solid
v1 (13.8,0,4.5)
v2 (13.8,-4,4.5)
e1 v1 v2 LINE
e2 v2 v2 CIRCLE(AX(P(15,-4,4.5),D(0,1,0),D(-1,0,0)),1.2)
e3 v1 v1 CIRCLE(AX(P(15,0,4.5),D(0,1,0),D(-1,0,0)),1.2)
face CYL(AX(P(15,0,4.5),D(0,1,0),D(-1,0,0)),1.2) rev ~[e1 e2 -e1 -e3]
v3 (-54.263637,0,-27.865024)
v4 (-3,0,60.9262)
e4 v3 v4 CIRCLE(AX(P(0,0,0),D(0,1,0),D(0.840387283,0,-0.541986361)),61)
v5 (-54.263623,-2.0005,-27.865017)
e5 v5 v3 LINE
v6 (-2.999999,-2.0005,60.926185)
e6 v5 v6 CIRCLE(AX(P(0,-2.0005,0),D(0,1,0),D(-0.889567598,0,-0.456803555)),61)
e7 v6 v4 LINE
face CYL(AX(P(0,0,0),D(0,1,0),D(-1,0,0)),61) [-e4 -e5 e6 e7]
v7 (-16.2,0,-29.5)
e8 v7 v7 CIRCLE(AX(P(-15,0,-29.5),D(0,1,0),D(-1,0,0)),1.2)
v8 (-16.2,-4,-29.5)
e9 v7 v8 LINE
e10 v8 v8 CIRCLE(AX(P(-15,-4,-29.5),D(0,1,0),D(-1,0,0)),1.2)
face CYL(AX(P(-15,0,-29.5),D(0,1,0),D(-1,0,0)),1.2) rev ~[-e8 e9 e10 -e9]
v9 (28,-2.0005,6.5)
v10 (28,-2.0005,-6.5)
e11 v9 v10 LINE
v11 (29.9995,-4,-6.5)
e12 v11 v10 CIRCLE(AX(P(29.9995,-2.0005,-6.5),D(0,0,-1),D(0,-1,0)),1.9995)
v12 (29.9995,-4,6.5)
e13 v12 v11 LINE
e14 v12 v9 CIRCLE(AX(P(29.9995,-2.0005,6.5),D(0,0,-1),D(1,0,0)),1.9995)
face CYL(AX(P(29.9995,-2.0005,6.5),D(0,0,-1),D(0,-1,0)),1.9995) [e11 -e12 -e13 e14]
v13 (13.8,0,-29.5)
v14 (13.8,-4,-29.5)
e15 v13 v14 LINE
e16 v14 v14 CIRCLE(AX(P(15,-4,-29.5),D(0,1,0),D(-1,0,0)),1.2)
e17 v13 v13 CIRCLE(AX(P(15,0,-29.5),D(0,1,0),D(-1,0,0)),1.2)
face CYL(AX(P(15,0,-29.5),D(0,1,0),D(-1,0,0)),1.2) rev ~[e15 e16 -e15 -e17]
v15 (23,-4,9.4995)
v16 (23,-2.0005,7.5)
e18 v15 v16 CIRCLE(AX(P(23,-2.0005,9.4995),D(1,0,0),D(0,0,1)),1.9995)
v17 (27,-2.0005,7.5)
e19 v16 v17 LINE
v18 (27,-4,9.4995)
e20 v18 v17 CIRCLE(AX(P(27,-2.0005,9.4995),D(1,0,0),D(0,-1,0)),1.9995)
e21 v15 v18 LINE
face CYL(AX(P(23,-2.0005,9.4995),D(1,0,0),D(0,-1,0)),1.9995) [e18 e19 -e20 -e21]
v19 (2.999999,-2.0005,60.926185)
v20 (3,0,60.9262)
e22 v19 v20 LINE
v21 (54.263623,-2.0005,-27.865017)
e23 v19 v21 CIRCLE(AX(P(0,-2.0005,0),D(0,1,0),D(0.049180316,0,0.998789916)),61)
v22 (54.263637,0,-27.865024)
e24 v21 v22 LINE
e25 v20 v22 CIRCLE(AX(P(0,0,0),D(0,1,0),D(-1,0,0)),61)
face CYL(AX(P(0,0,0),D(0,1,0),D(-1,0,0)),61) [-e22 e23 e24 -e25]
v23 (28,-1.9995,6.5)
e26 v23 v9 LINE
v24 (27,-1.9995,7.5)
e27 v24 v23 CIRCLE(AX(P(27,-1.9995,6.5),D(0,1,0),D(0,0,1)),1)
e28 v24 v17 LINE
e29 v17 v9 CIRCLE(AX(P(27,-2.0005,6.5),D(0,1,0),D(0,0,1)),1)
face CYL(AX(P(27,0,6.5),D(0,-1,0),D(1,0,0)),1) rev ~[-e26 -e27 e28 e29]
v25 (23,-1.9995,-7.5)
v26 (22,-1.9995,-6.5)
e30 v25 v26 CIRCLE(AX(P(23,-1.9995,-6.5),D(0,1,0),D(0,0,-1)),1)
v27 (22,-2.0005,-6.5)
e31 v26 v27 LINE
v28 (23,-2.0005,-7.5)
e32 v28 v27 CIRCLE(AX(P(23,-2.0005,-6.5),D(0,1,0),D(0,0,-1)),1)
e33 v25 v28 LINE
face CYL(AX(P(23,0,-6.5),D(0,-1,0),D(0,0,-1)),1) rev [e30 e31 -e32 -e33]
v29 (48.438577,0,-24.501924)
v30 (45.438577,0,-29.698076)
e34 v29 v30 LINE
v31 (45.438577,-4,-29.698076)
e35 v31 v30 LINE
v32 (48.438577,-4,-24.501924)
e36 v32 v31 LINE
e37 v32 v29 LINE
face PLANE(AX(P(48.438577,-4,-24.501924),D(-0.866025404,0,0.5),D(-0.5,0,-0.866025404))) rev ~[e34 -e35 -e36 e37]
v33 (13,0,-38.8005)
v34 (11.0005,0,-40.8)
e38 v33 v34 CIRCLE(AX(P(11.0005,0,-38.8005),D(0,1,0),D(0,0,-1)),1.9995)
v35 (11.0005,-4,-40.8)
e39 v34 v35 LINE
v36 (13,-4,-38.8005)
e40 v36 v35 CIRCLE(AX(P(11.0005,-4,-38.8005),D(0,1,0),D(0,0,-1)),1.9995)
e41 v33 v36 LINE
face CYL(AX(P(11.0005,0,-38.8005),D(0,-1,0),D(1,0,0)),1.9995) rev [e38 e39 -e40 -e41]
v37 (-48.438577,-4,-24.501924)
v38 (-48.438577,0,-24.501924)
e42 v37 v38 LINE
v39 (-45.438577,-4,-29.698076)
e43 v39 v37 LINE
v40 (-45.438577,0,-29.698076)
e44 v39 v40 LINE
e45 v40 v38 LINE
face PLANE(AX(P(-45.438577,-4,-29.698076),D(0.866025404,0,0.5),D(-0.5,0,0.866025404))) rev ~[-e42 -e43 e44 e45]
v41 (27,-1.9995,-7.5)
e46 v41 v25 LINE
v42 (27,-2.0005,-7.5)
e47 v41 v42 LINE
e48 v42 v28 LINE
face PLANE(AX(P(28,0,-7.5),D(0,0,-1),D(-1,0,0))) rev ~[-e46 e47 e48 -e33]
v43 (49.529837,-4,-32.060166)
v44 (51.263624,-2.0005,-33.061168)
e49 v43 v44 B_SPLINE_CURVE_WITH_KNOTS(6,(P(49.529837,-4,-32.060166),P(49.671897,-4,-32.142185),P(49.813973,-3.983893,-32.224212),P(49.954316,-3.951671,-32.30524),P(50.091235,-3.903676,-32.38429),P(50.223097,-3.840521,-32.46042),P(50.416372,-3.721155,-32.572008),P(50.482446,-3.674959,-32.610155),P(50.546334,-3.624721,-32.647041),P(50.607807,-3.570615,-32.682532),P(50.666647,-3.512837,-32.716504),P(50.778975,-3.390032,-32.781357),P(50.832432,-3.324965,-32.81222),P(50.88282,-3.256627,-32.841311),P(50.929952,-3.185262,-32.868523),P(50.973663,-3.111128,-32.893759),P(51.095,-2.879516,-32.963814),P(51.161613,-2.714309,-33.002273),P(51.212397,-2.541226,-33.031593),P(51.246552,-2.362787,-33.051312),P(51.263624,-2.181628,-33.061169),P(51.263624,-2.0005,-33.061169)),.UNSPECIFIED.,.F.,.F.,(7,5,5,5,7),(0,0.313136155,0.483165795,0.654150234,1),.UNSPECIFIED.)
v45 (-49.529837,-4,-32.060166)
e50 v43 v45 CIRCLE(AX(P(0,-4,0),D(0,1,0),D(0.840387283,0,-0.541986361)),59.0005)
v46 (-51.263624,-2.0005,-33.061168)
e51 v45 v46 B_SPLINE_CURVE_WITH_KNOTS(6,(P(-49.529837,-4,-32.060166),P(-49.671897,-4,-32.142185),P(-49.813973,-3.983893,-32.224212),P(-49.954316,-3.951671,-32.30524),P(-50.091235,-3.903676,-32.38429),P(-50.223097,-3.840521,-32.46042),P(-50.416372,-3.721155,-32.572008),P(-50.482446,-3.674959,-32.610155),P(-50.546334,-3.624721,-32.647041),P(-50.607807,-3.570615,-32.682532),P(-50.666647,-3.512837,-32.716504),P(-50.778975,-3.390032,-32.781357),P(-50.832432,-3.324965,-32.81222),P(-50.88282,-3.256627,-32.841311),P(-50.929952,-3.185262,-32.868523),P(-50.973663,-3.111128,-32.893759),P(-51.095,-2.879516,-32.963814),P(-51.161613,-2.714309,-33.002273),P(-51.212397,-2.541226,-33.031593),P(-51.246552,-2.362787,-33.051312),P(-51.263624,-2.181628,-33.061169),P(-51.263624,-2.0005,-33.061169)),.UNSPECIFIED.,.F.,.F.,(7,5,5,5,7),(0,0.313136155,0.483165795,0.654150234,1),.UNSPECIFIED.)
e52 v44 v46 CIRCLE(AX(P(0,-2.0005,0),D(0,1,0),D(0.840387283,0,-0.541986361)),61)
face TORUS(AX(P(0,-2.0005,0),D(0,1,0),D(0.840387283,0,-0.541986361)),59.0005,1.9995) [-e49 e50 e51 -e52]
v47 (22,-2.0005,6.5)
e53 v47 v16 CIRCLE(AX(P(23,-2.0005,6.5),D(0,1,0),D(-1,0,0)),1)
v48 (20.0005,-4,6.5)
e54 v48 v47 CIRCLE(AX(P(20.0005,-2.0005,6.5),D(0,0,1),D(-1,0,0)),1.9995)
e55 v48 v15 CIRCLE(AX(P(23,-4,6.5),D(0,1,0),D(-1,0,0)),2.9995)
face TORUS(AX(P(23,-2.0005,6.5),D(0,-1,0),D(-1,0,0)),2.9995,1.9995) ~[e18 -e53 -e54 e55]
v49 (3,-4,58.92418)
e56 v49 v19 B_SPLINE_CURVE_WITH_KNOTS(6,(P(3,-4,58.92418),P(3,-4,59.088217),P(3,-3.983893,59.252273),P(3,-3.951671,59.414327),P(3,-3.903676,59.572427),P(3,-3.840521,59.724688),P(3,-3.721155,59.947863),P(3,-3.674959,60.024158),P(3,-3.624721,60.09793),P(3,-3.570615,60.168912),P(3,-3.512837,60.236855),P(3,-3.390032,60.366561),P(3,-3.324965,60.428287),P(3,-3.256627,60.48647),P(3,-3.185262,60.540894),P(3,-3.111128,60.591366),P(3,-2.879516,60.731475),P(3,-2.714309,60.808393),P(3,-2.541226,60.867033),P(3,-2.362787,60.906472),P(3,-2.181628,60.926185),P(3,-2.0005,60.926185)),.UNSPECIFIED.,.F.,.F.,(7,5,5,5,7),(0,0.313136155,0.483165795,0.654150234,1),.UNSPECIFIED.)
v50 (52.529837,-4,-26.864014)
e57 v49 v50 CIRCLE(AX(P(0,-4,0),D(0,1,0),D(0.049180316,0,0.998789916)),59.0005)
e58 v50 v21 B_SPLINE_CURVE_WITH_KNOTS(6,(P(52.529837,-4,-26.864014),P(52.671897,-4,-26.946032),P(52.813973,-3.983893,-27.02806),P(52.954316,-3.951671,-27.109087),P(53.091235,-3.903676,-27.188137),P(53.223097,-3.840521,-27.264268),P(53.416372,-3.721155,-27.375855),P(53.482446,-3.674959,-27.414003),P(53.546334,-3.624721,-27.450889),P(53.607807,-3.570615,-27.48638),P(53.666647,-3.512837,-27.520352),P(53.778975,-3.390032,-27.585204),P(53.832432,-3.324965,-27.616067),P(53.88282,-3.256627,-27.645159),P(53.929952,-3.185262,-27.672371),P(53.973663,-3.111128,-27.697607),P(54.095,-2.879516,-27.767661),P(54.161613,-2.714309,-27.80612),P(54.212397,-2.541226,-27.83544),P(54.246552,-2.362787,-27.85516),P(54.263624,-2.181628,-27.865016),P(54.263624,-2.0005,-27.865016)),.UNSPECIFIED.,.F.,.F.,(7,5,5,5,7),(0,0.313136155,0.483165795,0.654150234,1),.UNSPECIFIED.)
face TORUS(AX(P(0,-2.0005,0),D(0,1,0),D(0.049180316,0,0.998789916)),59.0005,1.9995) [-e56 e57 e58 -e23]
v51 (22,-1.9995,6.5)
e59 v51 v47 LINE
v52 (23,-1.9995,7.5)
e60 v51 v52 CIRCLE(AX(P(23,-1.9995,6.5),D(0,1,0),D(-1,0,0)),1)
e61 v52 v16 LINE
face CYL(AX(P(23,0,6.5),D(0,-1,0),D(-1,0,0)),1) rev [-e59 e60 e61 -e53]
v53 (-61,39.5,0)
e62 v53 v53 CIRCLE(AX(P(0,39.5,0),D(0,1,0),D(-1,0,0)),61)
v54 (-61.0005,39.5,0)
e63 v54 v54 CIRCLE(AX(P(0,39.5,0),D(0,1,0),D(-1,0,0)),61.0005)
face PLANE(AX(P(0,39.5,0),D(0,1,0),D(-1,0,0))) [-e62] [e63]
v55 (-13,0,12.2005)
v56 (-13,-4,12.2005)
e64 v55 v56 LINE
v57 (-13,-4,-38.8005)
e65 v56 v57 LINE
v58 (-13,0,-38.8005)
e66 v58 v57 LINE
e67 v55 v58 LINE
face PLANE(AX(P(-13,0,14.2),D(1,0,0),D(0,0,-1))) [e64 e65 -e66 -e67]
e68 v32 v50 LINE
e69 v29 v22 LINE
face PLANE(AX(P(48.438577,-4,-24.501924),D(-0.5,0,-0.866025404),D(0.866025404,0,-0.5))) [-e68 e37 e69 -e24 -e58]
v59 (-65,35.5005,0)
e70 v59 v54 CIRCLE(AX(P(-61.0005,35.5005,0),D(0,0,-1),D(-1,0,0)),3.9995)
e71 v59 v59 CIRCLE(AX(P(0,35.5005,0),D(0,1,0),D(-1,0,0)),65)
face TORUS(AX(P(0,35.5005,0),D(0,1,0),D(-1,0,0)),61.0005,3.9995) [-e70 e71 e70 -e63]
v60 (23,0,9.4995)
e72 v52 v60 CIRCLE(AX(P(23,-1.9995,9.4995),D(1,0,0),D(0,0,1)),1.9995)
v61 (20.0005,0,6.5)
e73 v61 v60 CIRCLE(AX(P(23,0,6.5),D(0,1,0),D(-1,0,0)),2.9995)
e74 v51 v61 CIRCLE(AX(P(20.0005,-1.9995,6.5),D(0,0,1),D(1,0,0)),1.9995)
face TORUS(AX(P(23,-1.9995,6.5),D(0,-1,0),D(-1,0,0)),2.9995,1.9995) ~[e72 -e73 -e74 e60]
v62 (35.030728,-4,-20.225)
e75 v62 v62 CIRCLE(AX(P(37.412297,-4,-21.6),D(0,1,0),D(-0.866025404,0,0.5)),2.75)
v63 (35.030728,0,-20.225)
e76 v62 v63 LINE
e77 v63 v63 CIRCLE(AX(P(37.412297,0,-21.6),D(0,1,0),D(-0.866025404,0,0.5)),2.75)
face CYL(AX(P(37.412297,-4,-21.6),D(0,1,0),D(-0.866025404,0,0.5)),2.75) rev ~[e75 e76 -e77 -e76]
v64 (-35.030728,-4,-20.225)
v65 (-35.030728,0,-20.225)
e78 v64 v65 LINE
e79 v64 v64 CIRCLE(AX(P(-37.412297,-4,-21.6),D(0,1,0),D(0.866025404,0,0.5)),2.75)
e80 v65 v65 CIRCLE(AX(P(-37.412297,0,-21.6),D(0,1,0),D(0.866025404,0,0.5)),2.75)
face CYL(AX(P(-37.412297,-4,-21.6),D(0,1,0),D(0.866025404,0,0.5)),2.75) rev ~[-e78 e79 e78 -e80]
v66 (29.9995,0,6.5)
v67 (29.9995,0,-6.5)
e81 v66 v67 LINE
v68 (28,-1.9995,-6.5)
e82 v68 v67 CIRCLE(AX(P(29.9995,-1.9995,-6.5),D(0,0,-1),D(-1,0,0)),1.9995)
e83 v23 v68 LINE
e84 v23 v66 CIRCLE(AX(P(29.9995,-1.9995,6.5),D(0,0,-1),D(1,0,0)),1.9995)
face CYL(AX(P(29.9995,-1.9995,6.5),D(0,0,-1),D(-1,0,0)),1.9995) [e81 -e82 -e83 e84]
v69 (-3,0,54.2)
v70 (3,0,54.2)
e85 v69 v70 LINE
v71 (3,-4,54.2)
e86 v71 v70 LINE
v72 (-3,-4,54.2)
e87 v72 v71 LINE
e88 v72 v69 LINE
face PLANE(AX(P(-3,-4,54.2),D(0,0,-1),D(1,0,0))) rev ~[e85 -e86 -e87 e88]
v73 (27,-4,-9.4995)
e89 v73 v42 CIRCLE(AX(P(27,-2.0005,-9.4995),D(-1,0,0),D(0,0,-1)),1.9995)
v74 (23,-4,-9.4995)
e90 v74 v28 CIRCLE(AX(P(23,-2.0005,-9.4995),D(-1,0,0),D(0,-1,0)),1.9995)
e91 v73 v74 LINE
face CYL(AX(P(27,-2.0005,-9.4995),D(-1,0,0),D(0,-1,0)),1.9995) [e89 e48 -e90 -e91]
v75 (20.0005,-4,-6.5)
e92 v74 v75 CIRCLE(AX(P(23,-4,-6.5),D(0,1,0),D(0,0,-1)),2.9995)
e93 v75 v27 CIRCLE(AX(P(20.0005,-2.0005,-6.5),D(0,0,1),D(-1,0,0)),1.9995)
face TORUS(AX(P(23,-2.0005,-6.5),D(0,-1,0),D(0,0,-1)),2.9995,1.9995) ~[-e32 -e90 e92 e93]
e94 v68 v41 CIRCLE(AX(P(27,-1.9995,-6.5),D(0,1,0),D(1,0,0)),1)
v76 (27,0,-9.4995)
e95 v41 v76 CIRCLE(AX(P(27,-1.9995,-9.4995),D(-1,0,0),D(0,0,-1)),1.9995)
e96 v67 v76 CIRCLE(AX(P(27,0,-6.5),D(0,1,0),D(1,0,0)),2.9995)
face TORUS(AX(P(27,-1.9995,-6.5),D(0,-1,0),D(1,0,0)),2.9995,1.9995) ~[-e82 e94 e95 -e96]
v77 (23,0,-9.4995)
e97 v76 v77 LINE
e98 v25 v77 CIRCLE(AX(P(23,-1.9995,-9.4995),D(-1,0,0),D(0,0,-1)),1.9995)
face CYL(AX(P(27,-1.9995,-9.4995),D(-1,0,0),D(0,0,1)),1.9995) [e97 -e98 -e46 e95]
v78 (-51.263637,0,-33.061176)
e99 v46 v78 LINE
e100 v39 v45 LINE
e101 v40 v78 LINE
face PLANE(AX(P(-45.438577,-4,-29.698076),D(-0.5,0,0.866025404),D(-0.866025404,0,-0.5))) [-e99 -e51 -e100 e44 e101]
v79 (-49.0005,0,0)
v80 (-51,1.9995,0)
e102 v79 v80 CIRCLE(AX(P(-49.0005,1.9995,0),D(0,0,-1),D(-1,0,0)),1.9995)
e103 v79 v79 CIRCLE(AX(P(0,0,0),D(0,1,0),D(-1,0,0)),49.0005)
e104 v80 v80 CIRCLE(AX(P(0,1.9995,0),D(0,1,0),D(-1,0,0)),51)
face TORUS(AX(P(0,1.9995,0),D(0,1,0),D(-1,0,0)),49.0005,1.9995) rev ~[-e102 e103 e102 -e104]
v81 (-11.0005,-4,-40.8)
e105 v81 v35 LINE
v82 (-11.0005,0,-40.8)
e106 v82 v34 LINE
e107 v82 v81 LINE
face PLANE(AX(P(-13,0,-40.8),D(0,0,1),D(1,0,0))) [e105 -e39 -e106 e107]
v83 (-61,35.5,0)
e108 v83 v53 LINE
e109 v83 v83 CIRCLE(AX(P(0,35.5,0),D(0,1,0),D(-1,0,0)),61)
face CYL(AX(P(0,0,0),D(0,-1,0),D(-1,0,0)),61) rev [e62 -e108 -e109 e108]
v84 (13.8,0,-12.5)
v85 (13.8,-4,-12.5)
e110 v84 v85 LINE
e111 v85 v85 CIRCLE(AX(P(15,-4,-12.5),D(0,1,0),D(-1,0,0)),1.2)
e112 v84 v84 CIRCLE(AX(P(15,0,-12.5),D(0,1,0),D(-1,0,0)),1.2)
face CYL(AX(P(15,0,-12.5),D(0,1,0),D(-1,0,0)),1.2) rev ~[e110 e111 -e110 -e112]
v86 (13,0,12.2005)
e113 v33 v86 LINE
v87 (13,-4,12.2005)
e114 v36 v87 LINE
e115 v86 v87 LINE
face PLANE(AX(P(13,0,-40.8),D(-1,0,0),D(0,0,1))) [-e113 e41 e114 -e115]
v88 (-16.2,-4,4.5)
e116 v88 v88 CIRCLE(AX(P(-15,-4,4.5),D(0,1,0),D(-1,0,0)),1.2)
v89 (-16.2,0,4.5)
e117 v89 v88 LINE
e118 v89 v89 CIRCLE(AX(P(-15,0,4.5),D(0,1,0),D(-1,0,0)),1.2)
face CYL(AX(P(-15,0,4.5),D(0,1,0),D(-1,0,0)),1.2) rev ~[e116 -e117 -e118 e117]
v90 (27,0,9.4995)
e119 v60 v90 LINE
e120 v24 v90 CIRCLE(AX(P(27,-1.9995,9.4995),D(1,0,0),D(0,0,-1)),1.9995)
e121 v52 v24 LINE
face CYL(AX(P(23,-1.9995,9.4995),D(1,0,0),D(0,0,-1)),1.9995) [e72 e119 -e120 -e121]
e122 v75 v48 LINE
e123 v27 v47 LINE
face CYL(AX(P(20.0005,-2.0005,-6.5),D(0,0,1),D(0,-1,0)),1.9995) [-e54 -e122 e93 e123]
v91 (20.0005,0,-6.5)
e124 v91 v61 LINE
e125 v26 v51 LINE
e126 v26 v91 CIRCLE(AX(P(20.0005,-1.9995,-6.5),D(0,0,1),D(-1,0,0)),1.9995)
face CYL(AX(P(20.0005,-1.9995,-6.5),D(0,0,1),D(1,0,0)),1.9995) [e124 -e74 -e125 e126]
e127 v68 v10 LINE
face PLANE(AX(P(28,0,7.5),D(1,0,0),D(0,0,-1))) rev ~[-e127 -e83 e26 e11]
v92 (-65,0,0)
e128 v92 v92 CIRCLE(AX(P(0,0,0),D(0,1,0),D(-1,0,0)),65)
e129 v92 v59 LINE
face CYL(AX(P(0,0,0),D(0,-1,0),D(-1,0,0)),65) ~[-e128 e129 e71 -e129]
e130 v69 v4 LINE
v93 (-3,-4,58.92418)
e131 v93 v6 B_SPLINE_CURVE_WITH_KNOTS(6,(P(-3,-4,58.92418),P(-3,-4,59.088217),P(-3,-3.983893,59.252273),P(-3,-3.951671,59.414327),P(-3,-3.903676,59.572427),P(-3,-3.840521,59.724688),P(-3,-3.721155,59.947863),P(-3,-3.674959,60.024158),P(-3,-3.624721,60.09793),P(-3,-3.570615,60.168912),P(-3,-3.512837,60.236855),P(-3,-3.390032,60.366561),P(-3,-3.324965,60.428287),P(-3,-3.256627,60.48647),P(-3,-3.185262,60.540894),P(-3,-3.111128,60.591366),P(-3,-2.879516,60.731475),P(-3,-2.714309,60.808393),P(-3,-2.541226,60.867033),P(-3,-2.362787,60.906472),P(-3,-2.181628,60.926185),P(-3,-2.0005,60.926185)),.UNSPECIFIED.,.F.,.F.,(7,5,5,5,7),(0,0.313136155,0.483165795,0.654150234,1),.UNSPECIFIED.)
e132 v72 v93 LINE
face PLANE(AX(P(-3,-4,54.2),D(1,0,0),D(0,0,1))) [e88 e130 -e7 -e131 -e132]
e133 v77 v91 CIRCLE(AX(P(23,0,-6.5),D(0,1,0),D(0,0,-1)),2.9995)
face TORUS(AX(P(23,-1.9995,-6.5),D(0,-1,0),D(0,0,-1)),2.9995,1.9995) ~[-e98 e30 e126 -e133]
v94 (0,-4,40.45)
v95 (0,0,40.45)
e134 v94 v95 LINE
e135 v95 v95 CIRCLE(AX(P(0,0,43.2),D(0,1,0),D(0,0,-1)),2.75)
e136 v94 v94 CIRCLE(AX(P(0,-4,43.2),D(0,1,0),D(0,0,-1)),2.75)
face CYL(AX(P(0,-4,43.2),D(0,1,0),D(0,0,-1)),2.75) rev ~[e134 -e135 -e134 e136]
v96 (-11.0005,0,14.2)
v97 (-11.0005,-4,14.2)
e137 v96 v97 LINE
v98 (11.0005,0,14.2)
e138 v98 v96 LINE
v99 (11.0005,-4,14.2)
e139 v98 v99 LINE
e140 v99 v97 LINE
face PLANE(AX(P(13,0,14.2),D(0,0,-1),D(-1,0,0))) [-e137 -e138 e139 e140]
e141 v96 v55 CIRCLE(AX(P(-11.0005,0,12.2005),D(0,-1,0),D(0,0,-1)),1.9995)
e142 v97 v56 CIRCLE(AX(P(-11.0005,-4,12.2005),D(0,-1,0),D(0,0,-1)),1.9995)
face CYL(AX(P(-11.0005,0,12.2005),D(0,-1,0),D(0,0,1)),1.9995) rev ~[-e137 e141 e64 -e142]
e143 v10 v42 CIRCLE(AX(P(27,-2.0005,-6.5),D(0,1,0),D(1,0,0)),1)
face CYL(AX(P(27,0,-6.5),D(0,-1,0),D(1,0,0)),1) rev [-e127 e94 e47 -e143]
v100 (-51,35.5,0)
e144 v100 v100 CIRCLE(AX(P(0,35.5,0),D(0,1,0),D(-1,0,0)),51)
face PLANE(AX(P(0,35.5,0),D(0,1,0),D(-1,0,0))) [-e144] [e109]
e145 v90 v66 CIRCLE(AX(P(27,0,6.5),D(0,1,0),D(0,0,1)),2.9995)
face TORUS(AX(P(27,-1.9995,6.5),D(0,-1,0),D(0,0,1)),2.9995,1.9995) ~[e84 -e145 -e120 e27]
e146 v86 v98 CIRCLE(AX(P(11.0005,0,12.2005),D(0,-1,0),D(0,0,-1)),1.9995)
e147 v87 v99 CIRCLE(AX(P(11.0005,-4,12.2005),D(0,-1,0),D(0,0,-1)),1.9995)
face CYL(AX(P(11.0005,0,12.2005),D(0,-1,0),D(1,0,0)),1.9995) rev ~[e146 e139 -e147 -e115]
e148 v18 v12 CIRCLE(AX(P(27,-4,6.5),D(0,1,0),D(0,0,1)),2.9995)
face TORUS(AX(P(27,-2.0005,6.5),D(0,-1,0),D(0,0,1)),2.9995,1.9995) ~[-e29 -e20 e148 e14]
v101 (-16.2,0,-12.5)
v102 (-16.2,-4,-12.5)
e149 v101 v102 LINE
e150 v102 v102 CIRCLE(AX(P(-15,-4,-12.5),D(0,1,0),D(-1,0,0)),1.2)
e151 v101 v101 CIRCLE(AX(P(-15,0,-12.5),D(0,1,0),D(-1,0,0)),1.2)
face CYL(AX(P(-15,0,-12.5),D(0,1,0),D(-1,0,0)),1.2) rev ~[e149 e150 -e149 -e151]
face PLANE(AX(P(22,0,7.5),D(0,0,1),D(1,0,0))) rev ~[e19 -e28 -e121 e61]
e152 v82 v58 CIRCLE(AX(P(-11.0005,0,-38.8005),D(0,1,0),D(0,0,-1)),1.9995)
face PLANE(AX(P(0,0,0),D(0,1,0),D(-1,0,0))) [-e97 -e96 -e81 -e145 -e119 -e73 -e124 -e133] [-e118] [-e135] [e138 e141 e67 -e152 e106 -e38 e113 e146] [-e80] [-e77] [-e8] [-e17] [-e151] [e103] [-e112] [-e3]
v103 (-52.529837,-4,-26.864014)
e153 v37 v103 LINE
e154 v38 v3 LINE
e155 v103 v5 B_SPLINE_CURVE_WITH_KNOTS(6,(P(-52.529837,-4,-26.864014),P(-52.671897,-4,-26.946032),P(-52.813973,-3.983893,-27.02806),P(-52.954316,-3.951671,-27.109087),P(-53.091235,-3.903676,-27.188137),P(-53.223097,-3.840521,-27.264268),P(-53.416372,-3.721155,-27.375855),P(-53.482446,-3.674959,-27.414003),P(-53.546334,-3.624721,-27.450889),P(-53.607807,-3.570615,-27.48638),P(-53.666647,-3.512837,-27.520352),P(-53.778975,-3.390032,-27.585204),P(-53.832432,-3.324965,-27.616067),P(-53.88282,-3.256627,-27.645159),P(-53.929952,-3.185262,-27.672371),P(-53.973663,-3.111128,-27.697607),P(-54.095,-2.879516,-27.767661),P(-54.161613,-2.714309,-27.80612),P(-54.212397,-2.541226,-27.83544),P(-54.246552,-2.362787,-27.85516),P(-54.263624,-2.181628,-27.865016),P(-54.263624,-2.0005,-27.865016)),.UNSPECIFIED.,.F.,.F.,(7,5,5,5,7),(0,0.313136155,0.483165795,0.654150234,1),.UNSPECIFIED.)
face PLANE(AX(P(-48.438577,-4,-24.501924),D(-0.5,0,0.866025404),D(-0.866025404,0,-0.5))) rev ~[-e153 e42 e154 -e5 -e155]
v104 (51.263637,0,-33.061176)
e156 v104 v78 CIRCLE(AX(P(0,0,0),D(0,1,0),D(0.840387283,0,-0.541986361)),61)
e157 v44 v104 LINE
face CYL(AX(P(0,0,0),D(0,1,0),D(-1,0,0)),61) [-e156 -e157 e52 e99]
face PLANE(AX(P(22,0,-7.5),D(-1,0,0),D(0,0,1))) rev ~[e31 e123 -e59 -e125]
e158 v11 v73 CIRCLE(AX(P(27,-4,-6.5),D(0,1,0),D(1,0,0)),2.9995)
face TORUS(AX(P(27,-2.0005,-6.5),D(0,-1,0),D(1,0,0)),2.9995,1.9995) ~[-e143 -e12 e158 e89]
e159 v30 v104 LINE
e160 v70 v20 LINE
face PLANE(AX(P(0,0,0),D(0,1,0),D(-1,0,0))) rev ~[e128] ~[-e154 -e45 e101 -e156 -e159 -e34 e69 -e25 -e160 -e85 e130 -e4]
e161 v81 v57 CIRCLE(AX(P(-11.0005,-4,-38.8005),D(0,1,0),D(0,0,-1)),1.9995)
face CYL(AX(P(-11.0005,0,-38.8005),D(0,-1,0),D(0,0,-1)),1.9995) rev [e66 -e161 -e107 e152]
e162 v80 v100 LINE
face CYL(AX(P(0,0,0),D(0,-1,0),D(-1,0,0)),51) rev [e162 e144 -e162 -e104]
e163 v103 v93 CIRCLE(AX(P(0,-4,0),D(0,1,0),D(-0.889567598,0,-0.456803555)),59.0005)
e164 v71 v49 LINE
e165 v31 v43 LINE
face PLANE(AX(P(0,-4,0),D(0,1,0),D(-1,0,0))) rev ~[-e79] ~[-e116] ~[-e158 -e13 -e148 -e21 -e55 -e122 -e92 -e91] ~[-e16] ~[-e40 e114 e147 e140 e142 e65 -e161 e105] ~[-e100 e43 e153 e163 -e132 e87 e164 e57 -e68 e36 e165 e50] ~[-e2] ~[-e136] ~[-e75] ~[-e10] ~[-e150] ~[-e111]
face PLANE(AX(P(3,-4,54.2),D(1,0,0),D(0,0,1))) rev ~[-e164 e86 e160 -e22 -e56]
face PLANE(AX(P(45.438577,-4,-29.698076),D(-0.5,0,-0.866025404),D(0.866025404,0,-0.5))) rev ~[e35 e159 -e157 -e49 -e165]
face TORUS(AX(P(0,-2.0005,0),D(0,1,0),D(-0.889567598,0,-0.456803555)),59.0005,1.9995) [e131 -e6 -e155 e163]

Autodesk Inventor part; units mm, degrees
ref_plane "YZ Plane" through (0, 0, 0) normal (1, 0, 0) x (0, 1, 0)
ref_plane "XZ Plane" through (0, 0, 0) normal (0, 1, 0) x (-1, 0, 0)
ref_plane "XY Plane" through (0, 0, 0) normal (0, 0, 1) x (1, 0, 0)
sketch "Sketch1" plane through (0, 0, 0) normal (0, 1, 0) x (-1, 0, 0)
  arc A0 (-11.6454, 11.6645) -> (-12.2, 10.5) centre (-10.7, 10.5) ccw construction
  arc A1 (-11.6454, 11.6645) -> (-12.6157, 11.0765) centre (-11.3, 10) ccw construction
  line L0 (-12.6157, 11.0765) -> (-17.1157, 5.5765) construction
  arc A2 (-17.1157, 5.5765) -> (-17.5, 4.5) centre (-15.8, 4.5) ccw construction
  line L1 (-17.5, 4.5) -> (-17.5, -31.1) construction
  arc A3 (-17.5, -31.1) -> (-17.1157, -32.1765) centre (-15.8, -31.1) ccw construction
  line L2 (-17.1157, -32.1765) -> (-12.6157, -37.6765) construction
  arc A4 (-12.6157, -37.6765) -> (-11.3, -38.3) centre (-11.3, -36.6) ccw construction
  line L3 (-11.3, -38.3) -> (11.3, -38.3) construction
  arc A5 (11.3, -38.3) -> (12.6157, -37.6765) centre (11.3, -36.6) ccw construction
  line L4 (12.6157, -37.6765) -> (17.1157, -32.1765) construction
  arc A6 (17.1157, -32.1765) -> (17.5, -31.1) centre (15.8, -31.1) ccw construction
  line L5 (17.5, -31.1) -> (17.5, 4.5) construction
  arc A7 (17.5, 4.5) -> (17.1157, 5.5765) centre (15.8, 4.5) ccw construction
  line L6 (17.1157, 5.5765) -> (12.6157, 11.0765) construction
  arc A8 (12.6157, 11.0765) -> (11.6454, 11.6645) centre (11.3, 10) ccw construction
  arc A9 (12.2, 10.5) -> (11.6454, 11.6645) centre (10.7, 10.5) ccw construction
  line L7 (12.2, 10.5) -> (12.2, -31.5) construction
  arc A10 (10.7, -33) -> (12.2, -31.5) centre (10.7, -31.5) ccw construction
  line L8 (-10.7, -33) -> (10.7, -33) construction
  arc A11 (-12.2, -31.5) -> (-10.7, -33) centre (-10.7, -31.5) ccw construction
  line L9 (-12.2, 10.5) -> (-12.2, -31.5) construction
  circle A12 centre (-8.5, -35.8) radius 1.2 construction
  circle A13 centre (8.5, -35.8) radius 1.2 construction
  circle A14 centre (-15, 4.5) radius 1.2
  circle A15 centre (-15, -12.5) radius 1.2
  circle A16 centre (-15, -29.5) radius 1.2
  circle A17 centre (15, -29.5) radius 1.2
  circle A18 centre (15, -12.5) radius 1.2
  circle A19 centre (15, 4.5) radius 1.2
  line L10 (11.3, -38.6) -> (-11.3, -38.6) construction
  arc A20 (-12.8479, -37.8665) -> (-11.3, -38.6) centre (-11.3, -36.6) ccw construction
  line L11 (-12.8479, -37.8665) -> (-17.3479, -32.3665) construction
  arc A21 (-17.8, -31.1) -> (-17.3479, -32.3665) centre (-15.8, -31.1) ccw construction
  line L12 (-17.8, -31.1) -> (-17.8, 4.5) construction
  line L13 (17.3479, -32.3665) -> (12.8479, -37.8665) construction
  arc A22 (11.3, -38.6) -> (12.8479, -37.8665) centre (11.3, -36.6) ccw construction
  line L14 (17.8, 4.5) -> (17.8, -31.1) construction
  arc A23 (17.3479, -32.3665) -> (17.8, -31.1) centre (15.8, -31.1) ccw construction
  arc A24 (17.8, 4.5) -> (17.3479, 5.7665) centre (15.8, 4.5) ccw construction
  line L15 (12.8479, 11.2665) -> (17.3479, 5.7665) construction
  arc A25 (12.8479, 11.2665) -> (11.3, 12) centre (11.3, 10) ccw construction
  spline S0 degree 3 poles (11.3, 11.8748) (11.3318, 11.8609) (11.3649, 11.8451) (11.4851, 11.7818) (11.5689, 11.7267) (11.6454, 11.6645) knots -0.198467 -0.198467 -0.198467 -0.198467 -0.191756 -0.191756 -0.174636 -0.174636 -0.174636 -0.174636 construction
  spline S1 degree 3 poles (11.3, 11.8748) (11.2559, 11.894) (11.211, 11.9111) (11.0105, 11.9765) (10.8493, 12) (10.7, 12) knots -0.063423 -0.063423 -0.063423 -0.063423 -0.049053 -0.049053 0 0 0 0 construction
  arc A26 (-11.3, 12) -> (-12.8479, 11.2665) centre (-11.3, 10) ccw construction
  line L16 (-11.3, 12) -> (-10.7, 12) construction
  line L17 (-17.3479, 5.7665) -> (-12.8479, 11.2665) construction
  spline S2 degree 3 poles (-11.3, 11.8748) (-11.3932, 11.8341) (-11.4972, 11.777) (-11.6151, 11.6887) (-11.6305, 11.6767) (-11.6454, 11.6645) knots 0.037429 0.037429 0.037429 0.037429 0.058499 0.058499 0.061766 0.061766 0.061766 0.061766 construction
  spline S3 degree 3 poles (-10.7, 12) (-10.8493, 12) (-11.0105, 11.9765) (-11.211, 11.9111) (-11.2559, 11.894) (-11.3, 11.8748) knots -0.307639 -0.307639 -0.307639 -0.307639 -0.258586 -0.258586 -0.244216 -0.244216 -0.244216 -0.244216 construction
  line L18 (10.7, 12) -> (11.3, 12) construction
  arc A27 (-17.3479, 5.7665) -> (-17.8, 4.5) centre (-15.8, 4.5) ccw construction
  circle A28 centre (0, 0) radius 5 construction
  circle A29 centre (0, 0) radius 61
  circle A30 centre (0, 0) radius 51
  circle A31 centre (0, 0) radius 65
  line L19 (-13, 14.2) -> (13, 14.2)
  line L20 (13, 14.2) -> (13, -40.8)
  line L21 (13, -40.8) -> (-13, -40.8)
  line L22 (-13, -40.8) -> (-13, 14.2)
  line L23 (-13, 14.2) -> (13, -40.8) construction
  line L24 (13, 14.2) -> (-13, -40.8) construction
  point P0 (0, -13.3)
  dimension "d0" = 122
  dimension "d1" = 10
  dimension "d2" = 4
  dimension "d3" = 26
  dimension "d4" = 55
extrude "Extrusion1" add sketch "Sketch1" along normal blind 35.5 contours A29
extrude "Extrusion2" add sketch "Sketch1" against normal blind 4 contours A29 | A30
extrude "Extrusion3" add sketch "Sketch1" along normal blind 39.5 contours A31
sketch "Sketch2" plane through (0, -4, 0) normal (0, -1, 0) x (1, 0, 0)
  line L0 (13, 14.2) -> (13, -40.8) construction
  line L1 (13, -40.8) -> (-13, -40.8) construction
  line L2 (-13, -40.8) -> (-13, 14.2) construction
  line L3 (-13, 14.2) -> (13, 14.2) construction
  circle A0 centre (-15, 4.5) radius 1.2 construction
  circle A1 centre (-15, -12.5) radius 1.2 construction
  circle A2 centre (-15, -29.5) radius 1.2 construction
  circle A3 centre (15, -29.5) radius 1.2 construction
  circle A4 centre (15, -12.5) radius 1.2 construction
  circle A5 centre (15, 4.5) radius 1.2 construction
  circle A6 centre (0, 0) radius 61 construction
  line L4 (-3, 54.2) -> (3, 54.2)
  line L5 (3, 54.2) -> (3, 60.9262)
  circle A7 centre (0, 0) radius 61 projected
  line L6 (-3, 54.2) -> (-3, 60.9262)
  line L7 (-13, 14.2) -> (13, 14.2) projected
  line L8 (-13, -40.8) -> (-13, 14.2) projected
  line L9 (13, 14.2) -> (13, -40.8) projected
  line L10 (0, 14.2) -> (0, 54.2) construction
  arc A8 (3, 60.9262) -> (-3, 60.9262) centre (0, 0) ccw
  dimension "d14" = 40
  dimension "d15" = 6
extrude "Extrusion5" cut sketch "Sketch2" against normal up to surface (4 mm away) contours L6 A7 L5 L4 picked at (0.3335, 56.4639)
pattern_circular "Circular Pattern1" count 3 over 360 about axis through (0, 0, 0) along (0, 1, 0) of "Extrusion5"
sketch "Sketch3" plane through (0, 0, 0) normal (0, 1, 0) x (1, 0, 0)
  line L0 (28, 7.5) -> (22, 7.5)
  line L1 (22, 7.5) -> (22, -7.5)
  line L2 (22, -7.5) -> (28, -7.5)
  line L3 (28, -7.5) -> (28, 7.5)
  line L4 (28, 7.5) -> (22, -7.5) construction
  line L5 (22, 7.5) -> (28, -7.5) construction
  line L6 (13, 40.8) -> (13, -14.2) projected
  point P0 (0, 0)
  point P1 (25, 0)
  dimension "d21" = 6
  dimension "d22" = 15
  dimension "d23" = 9
  dimension "d24" = 40.8
extrude "Extrusion6" cut sketch "Sketch3" against normal through all
fillet "Fillet2" radius 1 4 edges at (28, -2, 7.5) (28, -2, -7.5) (22, -2, -7.5) (22, -2, 7.5)
fillet "Fillet3" radius 2 24 edges at (13, -2, -40.8) (13, -2, 14.2) (-13, -2, 14.2) (-13, -2, -40.8) (51, 0, 0) (52.8275, -4, 30.5) (-52.8275, -4, 30.5) (0, -4, -61) (22.2929, 0, -7.2071) (25, 0, -7.5) (27.7071, 0, -7.2071) (28, 0, 0) (27.7071, 0, 7.2071) (25, 0, 7.5) (22.2929, 0, 7.2071) (22, 0, 0) (22.2929, -4, 7.2071) (25, -4, 7.5) (27.7071, -4, 7.2071) (28, -4, 0) (27.7071, -4, -7.2071) (25, -4, -7.5) (22.2929, -4, -7.2071) (22, -4, 0)
fillet "Fillet4" radius 4 1 edges at (65, 39.5, 0)
sketch "Sketch7" plane through (0, -4, 0) normal (0, -1, 0) x (1, 0, 0)
  line L0 (3, 54.2) -> (-3, 54.2) projected
  point P0 (0, 0)
  point P1 (0, 43.2)
  dimension "d33" = 11
hole "Hole1" at (0, -4, 43.2) direction (0, 1, 0) diameter 5.5 depth 8 tip angle 118
pattern_circular "Circular Pattern2" count 3 over 360 about axis through (0, 0, 0) along (0, 1, 0) of "Hole1"
properties part number "base_enclosure_1"
